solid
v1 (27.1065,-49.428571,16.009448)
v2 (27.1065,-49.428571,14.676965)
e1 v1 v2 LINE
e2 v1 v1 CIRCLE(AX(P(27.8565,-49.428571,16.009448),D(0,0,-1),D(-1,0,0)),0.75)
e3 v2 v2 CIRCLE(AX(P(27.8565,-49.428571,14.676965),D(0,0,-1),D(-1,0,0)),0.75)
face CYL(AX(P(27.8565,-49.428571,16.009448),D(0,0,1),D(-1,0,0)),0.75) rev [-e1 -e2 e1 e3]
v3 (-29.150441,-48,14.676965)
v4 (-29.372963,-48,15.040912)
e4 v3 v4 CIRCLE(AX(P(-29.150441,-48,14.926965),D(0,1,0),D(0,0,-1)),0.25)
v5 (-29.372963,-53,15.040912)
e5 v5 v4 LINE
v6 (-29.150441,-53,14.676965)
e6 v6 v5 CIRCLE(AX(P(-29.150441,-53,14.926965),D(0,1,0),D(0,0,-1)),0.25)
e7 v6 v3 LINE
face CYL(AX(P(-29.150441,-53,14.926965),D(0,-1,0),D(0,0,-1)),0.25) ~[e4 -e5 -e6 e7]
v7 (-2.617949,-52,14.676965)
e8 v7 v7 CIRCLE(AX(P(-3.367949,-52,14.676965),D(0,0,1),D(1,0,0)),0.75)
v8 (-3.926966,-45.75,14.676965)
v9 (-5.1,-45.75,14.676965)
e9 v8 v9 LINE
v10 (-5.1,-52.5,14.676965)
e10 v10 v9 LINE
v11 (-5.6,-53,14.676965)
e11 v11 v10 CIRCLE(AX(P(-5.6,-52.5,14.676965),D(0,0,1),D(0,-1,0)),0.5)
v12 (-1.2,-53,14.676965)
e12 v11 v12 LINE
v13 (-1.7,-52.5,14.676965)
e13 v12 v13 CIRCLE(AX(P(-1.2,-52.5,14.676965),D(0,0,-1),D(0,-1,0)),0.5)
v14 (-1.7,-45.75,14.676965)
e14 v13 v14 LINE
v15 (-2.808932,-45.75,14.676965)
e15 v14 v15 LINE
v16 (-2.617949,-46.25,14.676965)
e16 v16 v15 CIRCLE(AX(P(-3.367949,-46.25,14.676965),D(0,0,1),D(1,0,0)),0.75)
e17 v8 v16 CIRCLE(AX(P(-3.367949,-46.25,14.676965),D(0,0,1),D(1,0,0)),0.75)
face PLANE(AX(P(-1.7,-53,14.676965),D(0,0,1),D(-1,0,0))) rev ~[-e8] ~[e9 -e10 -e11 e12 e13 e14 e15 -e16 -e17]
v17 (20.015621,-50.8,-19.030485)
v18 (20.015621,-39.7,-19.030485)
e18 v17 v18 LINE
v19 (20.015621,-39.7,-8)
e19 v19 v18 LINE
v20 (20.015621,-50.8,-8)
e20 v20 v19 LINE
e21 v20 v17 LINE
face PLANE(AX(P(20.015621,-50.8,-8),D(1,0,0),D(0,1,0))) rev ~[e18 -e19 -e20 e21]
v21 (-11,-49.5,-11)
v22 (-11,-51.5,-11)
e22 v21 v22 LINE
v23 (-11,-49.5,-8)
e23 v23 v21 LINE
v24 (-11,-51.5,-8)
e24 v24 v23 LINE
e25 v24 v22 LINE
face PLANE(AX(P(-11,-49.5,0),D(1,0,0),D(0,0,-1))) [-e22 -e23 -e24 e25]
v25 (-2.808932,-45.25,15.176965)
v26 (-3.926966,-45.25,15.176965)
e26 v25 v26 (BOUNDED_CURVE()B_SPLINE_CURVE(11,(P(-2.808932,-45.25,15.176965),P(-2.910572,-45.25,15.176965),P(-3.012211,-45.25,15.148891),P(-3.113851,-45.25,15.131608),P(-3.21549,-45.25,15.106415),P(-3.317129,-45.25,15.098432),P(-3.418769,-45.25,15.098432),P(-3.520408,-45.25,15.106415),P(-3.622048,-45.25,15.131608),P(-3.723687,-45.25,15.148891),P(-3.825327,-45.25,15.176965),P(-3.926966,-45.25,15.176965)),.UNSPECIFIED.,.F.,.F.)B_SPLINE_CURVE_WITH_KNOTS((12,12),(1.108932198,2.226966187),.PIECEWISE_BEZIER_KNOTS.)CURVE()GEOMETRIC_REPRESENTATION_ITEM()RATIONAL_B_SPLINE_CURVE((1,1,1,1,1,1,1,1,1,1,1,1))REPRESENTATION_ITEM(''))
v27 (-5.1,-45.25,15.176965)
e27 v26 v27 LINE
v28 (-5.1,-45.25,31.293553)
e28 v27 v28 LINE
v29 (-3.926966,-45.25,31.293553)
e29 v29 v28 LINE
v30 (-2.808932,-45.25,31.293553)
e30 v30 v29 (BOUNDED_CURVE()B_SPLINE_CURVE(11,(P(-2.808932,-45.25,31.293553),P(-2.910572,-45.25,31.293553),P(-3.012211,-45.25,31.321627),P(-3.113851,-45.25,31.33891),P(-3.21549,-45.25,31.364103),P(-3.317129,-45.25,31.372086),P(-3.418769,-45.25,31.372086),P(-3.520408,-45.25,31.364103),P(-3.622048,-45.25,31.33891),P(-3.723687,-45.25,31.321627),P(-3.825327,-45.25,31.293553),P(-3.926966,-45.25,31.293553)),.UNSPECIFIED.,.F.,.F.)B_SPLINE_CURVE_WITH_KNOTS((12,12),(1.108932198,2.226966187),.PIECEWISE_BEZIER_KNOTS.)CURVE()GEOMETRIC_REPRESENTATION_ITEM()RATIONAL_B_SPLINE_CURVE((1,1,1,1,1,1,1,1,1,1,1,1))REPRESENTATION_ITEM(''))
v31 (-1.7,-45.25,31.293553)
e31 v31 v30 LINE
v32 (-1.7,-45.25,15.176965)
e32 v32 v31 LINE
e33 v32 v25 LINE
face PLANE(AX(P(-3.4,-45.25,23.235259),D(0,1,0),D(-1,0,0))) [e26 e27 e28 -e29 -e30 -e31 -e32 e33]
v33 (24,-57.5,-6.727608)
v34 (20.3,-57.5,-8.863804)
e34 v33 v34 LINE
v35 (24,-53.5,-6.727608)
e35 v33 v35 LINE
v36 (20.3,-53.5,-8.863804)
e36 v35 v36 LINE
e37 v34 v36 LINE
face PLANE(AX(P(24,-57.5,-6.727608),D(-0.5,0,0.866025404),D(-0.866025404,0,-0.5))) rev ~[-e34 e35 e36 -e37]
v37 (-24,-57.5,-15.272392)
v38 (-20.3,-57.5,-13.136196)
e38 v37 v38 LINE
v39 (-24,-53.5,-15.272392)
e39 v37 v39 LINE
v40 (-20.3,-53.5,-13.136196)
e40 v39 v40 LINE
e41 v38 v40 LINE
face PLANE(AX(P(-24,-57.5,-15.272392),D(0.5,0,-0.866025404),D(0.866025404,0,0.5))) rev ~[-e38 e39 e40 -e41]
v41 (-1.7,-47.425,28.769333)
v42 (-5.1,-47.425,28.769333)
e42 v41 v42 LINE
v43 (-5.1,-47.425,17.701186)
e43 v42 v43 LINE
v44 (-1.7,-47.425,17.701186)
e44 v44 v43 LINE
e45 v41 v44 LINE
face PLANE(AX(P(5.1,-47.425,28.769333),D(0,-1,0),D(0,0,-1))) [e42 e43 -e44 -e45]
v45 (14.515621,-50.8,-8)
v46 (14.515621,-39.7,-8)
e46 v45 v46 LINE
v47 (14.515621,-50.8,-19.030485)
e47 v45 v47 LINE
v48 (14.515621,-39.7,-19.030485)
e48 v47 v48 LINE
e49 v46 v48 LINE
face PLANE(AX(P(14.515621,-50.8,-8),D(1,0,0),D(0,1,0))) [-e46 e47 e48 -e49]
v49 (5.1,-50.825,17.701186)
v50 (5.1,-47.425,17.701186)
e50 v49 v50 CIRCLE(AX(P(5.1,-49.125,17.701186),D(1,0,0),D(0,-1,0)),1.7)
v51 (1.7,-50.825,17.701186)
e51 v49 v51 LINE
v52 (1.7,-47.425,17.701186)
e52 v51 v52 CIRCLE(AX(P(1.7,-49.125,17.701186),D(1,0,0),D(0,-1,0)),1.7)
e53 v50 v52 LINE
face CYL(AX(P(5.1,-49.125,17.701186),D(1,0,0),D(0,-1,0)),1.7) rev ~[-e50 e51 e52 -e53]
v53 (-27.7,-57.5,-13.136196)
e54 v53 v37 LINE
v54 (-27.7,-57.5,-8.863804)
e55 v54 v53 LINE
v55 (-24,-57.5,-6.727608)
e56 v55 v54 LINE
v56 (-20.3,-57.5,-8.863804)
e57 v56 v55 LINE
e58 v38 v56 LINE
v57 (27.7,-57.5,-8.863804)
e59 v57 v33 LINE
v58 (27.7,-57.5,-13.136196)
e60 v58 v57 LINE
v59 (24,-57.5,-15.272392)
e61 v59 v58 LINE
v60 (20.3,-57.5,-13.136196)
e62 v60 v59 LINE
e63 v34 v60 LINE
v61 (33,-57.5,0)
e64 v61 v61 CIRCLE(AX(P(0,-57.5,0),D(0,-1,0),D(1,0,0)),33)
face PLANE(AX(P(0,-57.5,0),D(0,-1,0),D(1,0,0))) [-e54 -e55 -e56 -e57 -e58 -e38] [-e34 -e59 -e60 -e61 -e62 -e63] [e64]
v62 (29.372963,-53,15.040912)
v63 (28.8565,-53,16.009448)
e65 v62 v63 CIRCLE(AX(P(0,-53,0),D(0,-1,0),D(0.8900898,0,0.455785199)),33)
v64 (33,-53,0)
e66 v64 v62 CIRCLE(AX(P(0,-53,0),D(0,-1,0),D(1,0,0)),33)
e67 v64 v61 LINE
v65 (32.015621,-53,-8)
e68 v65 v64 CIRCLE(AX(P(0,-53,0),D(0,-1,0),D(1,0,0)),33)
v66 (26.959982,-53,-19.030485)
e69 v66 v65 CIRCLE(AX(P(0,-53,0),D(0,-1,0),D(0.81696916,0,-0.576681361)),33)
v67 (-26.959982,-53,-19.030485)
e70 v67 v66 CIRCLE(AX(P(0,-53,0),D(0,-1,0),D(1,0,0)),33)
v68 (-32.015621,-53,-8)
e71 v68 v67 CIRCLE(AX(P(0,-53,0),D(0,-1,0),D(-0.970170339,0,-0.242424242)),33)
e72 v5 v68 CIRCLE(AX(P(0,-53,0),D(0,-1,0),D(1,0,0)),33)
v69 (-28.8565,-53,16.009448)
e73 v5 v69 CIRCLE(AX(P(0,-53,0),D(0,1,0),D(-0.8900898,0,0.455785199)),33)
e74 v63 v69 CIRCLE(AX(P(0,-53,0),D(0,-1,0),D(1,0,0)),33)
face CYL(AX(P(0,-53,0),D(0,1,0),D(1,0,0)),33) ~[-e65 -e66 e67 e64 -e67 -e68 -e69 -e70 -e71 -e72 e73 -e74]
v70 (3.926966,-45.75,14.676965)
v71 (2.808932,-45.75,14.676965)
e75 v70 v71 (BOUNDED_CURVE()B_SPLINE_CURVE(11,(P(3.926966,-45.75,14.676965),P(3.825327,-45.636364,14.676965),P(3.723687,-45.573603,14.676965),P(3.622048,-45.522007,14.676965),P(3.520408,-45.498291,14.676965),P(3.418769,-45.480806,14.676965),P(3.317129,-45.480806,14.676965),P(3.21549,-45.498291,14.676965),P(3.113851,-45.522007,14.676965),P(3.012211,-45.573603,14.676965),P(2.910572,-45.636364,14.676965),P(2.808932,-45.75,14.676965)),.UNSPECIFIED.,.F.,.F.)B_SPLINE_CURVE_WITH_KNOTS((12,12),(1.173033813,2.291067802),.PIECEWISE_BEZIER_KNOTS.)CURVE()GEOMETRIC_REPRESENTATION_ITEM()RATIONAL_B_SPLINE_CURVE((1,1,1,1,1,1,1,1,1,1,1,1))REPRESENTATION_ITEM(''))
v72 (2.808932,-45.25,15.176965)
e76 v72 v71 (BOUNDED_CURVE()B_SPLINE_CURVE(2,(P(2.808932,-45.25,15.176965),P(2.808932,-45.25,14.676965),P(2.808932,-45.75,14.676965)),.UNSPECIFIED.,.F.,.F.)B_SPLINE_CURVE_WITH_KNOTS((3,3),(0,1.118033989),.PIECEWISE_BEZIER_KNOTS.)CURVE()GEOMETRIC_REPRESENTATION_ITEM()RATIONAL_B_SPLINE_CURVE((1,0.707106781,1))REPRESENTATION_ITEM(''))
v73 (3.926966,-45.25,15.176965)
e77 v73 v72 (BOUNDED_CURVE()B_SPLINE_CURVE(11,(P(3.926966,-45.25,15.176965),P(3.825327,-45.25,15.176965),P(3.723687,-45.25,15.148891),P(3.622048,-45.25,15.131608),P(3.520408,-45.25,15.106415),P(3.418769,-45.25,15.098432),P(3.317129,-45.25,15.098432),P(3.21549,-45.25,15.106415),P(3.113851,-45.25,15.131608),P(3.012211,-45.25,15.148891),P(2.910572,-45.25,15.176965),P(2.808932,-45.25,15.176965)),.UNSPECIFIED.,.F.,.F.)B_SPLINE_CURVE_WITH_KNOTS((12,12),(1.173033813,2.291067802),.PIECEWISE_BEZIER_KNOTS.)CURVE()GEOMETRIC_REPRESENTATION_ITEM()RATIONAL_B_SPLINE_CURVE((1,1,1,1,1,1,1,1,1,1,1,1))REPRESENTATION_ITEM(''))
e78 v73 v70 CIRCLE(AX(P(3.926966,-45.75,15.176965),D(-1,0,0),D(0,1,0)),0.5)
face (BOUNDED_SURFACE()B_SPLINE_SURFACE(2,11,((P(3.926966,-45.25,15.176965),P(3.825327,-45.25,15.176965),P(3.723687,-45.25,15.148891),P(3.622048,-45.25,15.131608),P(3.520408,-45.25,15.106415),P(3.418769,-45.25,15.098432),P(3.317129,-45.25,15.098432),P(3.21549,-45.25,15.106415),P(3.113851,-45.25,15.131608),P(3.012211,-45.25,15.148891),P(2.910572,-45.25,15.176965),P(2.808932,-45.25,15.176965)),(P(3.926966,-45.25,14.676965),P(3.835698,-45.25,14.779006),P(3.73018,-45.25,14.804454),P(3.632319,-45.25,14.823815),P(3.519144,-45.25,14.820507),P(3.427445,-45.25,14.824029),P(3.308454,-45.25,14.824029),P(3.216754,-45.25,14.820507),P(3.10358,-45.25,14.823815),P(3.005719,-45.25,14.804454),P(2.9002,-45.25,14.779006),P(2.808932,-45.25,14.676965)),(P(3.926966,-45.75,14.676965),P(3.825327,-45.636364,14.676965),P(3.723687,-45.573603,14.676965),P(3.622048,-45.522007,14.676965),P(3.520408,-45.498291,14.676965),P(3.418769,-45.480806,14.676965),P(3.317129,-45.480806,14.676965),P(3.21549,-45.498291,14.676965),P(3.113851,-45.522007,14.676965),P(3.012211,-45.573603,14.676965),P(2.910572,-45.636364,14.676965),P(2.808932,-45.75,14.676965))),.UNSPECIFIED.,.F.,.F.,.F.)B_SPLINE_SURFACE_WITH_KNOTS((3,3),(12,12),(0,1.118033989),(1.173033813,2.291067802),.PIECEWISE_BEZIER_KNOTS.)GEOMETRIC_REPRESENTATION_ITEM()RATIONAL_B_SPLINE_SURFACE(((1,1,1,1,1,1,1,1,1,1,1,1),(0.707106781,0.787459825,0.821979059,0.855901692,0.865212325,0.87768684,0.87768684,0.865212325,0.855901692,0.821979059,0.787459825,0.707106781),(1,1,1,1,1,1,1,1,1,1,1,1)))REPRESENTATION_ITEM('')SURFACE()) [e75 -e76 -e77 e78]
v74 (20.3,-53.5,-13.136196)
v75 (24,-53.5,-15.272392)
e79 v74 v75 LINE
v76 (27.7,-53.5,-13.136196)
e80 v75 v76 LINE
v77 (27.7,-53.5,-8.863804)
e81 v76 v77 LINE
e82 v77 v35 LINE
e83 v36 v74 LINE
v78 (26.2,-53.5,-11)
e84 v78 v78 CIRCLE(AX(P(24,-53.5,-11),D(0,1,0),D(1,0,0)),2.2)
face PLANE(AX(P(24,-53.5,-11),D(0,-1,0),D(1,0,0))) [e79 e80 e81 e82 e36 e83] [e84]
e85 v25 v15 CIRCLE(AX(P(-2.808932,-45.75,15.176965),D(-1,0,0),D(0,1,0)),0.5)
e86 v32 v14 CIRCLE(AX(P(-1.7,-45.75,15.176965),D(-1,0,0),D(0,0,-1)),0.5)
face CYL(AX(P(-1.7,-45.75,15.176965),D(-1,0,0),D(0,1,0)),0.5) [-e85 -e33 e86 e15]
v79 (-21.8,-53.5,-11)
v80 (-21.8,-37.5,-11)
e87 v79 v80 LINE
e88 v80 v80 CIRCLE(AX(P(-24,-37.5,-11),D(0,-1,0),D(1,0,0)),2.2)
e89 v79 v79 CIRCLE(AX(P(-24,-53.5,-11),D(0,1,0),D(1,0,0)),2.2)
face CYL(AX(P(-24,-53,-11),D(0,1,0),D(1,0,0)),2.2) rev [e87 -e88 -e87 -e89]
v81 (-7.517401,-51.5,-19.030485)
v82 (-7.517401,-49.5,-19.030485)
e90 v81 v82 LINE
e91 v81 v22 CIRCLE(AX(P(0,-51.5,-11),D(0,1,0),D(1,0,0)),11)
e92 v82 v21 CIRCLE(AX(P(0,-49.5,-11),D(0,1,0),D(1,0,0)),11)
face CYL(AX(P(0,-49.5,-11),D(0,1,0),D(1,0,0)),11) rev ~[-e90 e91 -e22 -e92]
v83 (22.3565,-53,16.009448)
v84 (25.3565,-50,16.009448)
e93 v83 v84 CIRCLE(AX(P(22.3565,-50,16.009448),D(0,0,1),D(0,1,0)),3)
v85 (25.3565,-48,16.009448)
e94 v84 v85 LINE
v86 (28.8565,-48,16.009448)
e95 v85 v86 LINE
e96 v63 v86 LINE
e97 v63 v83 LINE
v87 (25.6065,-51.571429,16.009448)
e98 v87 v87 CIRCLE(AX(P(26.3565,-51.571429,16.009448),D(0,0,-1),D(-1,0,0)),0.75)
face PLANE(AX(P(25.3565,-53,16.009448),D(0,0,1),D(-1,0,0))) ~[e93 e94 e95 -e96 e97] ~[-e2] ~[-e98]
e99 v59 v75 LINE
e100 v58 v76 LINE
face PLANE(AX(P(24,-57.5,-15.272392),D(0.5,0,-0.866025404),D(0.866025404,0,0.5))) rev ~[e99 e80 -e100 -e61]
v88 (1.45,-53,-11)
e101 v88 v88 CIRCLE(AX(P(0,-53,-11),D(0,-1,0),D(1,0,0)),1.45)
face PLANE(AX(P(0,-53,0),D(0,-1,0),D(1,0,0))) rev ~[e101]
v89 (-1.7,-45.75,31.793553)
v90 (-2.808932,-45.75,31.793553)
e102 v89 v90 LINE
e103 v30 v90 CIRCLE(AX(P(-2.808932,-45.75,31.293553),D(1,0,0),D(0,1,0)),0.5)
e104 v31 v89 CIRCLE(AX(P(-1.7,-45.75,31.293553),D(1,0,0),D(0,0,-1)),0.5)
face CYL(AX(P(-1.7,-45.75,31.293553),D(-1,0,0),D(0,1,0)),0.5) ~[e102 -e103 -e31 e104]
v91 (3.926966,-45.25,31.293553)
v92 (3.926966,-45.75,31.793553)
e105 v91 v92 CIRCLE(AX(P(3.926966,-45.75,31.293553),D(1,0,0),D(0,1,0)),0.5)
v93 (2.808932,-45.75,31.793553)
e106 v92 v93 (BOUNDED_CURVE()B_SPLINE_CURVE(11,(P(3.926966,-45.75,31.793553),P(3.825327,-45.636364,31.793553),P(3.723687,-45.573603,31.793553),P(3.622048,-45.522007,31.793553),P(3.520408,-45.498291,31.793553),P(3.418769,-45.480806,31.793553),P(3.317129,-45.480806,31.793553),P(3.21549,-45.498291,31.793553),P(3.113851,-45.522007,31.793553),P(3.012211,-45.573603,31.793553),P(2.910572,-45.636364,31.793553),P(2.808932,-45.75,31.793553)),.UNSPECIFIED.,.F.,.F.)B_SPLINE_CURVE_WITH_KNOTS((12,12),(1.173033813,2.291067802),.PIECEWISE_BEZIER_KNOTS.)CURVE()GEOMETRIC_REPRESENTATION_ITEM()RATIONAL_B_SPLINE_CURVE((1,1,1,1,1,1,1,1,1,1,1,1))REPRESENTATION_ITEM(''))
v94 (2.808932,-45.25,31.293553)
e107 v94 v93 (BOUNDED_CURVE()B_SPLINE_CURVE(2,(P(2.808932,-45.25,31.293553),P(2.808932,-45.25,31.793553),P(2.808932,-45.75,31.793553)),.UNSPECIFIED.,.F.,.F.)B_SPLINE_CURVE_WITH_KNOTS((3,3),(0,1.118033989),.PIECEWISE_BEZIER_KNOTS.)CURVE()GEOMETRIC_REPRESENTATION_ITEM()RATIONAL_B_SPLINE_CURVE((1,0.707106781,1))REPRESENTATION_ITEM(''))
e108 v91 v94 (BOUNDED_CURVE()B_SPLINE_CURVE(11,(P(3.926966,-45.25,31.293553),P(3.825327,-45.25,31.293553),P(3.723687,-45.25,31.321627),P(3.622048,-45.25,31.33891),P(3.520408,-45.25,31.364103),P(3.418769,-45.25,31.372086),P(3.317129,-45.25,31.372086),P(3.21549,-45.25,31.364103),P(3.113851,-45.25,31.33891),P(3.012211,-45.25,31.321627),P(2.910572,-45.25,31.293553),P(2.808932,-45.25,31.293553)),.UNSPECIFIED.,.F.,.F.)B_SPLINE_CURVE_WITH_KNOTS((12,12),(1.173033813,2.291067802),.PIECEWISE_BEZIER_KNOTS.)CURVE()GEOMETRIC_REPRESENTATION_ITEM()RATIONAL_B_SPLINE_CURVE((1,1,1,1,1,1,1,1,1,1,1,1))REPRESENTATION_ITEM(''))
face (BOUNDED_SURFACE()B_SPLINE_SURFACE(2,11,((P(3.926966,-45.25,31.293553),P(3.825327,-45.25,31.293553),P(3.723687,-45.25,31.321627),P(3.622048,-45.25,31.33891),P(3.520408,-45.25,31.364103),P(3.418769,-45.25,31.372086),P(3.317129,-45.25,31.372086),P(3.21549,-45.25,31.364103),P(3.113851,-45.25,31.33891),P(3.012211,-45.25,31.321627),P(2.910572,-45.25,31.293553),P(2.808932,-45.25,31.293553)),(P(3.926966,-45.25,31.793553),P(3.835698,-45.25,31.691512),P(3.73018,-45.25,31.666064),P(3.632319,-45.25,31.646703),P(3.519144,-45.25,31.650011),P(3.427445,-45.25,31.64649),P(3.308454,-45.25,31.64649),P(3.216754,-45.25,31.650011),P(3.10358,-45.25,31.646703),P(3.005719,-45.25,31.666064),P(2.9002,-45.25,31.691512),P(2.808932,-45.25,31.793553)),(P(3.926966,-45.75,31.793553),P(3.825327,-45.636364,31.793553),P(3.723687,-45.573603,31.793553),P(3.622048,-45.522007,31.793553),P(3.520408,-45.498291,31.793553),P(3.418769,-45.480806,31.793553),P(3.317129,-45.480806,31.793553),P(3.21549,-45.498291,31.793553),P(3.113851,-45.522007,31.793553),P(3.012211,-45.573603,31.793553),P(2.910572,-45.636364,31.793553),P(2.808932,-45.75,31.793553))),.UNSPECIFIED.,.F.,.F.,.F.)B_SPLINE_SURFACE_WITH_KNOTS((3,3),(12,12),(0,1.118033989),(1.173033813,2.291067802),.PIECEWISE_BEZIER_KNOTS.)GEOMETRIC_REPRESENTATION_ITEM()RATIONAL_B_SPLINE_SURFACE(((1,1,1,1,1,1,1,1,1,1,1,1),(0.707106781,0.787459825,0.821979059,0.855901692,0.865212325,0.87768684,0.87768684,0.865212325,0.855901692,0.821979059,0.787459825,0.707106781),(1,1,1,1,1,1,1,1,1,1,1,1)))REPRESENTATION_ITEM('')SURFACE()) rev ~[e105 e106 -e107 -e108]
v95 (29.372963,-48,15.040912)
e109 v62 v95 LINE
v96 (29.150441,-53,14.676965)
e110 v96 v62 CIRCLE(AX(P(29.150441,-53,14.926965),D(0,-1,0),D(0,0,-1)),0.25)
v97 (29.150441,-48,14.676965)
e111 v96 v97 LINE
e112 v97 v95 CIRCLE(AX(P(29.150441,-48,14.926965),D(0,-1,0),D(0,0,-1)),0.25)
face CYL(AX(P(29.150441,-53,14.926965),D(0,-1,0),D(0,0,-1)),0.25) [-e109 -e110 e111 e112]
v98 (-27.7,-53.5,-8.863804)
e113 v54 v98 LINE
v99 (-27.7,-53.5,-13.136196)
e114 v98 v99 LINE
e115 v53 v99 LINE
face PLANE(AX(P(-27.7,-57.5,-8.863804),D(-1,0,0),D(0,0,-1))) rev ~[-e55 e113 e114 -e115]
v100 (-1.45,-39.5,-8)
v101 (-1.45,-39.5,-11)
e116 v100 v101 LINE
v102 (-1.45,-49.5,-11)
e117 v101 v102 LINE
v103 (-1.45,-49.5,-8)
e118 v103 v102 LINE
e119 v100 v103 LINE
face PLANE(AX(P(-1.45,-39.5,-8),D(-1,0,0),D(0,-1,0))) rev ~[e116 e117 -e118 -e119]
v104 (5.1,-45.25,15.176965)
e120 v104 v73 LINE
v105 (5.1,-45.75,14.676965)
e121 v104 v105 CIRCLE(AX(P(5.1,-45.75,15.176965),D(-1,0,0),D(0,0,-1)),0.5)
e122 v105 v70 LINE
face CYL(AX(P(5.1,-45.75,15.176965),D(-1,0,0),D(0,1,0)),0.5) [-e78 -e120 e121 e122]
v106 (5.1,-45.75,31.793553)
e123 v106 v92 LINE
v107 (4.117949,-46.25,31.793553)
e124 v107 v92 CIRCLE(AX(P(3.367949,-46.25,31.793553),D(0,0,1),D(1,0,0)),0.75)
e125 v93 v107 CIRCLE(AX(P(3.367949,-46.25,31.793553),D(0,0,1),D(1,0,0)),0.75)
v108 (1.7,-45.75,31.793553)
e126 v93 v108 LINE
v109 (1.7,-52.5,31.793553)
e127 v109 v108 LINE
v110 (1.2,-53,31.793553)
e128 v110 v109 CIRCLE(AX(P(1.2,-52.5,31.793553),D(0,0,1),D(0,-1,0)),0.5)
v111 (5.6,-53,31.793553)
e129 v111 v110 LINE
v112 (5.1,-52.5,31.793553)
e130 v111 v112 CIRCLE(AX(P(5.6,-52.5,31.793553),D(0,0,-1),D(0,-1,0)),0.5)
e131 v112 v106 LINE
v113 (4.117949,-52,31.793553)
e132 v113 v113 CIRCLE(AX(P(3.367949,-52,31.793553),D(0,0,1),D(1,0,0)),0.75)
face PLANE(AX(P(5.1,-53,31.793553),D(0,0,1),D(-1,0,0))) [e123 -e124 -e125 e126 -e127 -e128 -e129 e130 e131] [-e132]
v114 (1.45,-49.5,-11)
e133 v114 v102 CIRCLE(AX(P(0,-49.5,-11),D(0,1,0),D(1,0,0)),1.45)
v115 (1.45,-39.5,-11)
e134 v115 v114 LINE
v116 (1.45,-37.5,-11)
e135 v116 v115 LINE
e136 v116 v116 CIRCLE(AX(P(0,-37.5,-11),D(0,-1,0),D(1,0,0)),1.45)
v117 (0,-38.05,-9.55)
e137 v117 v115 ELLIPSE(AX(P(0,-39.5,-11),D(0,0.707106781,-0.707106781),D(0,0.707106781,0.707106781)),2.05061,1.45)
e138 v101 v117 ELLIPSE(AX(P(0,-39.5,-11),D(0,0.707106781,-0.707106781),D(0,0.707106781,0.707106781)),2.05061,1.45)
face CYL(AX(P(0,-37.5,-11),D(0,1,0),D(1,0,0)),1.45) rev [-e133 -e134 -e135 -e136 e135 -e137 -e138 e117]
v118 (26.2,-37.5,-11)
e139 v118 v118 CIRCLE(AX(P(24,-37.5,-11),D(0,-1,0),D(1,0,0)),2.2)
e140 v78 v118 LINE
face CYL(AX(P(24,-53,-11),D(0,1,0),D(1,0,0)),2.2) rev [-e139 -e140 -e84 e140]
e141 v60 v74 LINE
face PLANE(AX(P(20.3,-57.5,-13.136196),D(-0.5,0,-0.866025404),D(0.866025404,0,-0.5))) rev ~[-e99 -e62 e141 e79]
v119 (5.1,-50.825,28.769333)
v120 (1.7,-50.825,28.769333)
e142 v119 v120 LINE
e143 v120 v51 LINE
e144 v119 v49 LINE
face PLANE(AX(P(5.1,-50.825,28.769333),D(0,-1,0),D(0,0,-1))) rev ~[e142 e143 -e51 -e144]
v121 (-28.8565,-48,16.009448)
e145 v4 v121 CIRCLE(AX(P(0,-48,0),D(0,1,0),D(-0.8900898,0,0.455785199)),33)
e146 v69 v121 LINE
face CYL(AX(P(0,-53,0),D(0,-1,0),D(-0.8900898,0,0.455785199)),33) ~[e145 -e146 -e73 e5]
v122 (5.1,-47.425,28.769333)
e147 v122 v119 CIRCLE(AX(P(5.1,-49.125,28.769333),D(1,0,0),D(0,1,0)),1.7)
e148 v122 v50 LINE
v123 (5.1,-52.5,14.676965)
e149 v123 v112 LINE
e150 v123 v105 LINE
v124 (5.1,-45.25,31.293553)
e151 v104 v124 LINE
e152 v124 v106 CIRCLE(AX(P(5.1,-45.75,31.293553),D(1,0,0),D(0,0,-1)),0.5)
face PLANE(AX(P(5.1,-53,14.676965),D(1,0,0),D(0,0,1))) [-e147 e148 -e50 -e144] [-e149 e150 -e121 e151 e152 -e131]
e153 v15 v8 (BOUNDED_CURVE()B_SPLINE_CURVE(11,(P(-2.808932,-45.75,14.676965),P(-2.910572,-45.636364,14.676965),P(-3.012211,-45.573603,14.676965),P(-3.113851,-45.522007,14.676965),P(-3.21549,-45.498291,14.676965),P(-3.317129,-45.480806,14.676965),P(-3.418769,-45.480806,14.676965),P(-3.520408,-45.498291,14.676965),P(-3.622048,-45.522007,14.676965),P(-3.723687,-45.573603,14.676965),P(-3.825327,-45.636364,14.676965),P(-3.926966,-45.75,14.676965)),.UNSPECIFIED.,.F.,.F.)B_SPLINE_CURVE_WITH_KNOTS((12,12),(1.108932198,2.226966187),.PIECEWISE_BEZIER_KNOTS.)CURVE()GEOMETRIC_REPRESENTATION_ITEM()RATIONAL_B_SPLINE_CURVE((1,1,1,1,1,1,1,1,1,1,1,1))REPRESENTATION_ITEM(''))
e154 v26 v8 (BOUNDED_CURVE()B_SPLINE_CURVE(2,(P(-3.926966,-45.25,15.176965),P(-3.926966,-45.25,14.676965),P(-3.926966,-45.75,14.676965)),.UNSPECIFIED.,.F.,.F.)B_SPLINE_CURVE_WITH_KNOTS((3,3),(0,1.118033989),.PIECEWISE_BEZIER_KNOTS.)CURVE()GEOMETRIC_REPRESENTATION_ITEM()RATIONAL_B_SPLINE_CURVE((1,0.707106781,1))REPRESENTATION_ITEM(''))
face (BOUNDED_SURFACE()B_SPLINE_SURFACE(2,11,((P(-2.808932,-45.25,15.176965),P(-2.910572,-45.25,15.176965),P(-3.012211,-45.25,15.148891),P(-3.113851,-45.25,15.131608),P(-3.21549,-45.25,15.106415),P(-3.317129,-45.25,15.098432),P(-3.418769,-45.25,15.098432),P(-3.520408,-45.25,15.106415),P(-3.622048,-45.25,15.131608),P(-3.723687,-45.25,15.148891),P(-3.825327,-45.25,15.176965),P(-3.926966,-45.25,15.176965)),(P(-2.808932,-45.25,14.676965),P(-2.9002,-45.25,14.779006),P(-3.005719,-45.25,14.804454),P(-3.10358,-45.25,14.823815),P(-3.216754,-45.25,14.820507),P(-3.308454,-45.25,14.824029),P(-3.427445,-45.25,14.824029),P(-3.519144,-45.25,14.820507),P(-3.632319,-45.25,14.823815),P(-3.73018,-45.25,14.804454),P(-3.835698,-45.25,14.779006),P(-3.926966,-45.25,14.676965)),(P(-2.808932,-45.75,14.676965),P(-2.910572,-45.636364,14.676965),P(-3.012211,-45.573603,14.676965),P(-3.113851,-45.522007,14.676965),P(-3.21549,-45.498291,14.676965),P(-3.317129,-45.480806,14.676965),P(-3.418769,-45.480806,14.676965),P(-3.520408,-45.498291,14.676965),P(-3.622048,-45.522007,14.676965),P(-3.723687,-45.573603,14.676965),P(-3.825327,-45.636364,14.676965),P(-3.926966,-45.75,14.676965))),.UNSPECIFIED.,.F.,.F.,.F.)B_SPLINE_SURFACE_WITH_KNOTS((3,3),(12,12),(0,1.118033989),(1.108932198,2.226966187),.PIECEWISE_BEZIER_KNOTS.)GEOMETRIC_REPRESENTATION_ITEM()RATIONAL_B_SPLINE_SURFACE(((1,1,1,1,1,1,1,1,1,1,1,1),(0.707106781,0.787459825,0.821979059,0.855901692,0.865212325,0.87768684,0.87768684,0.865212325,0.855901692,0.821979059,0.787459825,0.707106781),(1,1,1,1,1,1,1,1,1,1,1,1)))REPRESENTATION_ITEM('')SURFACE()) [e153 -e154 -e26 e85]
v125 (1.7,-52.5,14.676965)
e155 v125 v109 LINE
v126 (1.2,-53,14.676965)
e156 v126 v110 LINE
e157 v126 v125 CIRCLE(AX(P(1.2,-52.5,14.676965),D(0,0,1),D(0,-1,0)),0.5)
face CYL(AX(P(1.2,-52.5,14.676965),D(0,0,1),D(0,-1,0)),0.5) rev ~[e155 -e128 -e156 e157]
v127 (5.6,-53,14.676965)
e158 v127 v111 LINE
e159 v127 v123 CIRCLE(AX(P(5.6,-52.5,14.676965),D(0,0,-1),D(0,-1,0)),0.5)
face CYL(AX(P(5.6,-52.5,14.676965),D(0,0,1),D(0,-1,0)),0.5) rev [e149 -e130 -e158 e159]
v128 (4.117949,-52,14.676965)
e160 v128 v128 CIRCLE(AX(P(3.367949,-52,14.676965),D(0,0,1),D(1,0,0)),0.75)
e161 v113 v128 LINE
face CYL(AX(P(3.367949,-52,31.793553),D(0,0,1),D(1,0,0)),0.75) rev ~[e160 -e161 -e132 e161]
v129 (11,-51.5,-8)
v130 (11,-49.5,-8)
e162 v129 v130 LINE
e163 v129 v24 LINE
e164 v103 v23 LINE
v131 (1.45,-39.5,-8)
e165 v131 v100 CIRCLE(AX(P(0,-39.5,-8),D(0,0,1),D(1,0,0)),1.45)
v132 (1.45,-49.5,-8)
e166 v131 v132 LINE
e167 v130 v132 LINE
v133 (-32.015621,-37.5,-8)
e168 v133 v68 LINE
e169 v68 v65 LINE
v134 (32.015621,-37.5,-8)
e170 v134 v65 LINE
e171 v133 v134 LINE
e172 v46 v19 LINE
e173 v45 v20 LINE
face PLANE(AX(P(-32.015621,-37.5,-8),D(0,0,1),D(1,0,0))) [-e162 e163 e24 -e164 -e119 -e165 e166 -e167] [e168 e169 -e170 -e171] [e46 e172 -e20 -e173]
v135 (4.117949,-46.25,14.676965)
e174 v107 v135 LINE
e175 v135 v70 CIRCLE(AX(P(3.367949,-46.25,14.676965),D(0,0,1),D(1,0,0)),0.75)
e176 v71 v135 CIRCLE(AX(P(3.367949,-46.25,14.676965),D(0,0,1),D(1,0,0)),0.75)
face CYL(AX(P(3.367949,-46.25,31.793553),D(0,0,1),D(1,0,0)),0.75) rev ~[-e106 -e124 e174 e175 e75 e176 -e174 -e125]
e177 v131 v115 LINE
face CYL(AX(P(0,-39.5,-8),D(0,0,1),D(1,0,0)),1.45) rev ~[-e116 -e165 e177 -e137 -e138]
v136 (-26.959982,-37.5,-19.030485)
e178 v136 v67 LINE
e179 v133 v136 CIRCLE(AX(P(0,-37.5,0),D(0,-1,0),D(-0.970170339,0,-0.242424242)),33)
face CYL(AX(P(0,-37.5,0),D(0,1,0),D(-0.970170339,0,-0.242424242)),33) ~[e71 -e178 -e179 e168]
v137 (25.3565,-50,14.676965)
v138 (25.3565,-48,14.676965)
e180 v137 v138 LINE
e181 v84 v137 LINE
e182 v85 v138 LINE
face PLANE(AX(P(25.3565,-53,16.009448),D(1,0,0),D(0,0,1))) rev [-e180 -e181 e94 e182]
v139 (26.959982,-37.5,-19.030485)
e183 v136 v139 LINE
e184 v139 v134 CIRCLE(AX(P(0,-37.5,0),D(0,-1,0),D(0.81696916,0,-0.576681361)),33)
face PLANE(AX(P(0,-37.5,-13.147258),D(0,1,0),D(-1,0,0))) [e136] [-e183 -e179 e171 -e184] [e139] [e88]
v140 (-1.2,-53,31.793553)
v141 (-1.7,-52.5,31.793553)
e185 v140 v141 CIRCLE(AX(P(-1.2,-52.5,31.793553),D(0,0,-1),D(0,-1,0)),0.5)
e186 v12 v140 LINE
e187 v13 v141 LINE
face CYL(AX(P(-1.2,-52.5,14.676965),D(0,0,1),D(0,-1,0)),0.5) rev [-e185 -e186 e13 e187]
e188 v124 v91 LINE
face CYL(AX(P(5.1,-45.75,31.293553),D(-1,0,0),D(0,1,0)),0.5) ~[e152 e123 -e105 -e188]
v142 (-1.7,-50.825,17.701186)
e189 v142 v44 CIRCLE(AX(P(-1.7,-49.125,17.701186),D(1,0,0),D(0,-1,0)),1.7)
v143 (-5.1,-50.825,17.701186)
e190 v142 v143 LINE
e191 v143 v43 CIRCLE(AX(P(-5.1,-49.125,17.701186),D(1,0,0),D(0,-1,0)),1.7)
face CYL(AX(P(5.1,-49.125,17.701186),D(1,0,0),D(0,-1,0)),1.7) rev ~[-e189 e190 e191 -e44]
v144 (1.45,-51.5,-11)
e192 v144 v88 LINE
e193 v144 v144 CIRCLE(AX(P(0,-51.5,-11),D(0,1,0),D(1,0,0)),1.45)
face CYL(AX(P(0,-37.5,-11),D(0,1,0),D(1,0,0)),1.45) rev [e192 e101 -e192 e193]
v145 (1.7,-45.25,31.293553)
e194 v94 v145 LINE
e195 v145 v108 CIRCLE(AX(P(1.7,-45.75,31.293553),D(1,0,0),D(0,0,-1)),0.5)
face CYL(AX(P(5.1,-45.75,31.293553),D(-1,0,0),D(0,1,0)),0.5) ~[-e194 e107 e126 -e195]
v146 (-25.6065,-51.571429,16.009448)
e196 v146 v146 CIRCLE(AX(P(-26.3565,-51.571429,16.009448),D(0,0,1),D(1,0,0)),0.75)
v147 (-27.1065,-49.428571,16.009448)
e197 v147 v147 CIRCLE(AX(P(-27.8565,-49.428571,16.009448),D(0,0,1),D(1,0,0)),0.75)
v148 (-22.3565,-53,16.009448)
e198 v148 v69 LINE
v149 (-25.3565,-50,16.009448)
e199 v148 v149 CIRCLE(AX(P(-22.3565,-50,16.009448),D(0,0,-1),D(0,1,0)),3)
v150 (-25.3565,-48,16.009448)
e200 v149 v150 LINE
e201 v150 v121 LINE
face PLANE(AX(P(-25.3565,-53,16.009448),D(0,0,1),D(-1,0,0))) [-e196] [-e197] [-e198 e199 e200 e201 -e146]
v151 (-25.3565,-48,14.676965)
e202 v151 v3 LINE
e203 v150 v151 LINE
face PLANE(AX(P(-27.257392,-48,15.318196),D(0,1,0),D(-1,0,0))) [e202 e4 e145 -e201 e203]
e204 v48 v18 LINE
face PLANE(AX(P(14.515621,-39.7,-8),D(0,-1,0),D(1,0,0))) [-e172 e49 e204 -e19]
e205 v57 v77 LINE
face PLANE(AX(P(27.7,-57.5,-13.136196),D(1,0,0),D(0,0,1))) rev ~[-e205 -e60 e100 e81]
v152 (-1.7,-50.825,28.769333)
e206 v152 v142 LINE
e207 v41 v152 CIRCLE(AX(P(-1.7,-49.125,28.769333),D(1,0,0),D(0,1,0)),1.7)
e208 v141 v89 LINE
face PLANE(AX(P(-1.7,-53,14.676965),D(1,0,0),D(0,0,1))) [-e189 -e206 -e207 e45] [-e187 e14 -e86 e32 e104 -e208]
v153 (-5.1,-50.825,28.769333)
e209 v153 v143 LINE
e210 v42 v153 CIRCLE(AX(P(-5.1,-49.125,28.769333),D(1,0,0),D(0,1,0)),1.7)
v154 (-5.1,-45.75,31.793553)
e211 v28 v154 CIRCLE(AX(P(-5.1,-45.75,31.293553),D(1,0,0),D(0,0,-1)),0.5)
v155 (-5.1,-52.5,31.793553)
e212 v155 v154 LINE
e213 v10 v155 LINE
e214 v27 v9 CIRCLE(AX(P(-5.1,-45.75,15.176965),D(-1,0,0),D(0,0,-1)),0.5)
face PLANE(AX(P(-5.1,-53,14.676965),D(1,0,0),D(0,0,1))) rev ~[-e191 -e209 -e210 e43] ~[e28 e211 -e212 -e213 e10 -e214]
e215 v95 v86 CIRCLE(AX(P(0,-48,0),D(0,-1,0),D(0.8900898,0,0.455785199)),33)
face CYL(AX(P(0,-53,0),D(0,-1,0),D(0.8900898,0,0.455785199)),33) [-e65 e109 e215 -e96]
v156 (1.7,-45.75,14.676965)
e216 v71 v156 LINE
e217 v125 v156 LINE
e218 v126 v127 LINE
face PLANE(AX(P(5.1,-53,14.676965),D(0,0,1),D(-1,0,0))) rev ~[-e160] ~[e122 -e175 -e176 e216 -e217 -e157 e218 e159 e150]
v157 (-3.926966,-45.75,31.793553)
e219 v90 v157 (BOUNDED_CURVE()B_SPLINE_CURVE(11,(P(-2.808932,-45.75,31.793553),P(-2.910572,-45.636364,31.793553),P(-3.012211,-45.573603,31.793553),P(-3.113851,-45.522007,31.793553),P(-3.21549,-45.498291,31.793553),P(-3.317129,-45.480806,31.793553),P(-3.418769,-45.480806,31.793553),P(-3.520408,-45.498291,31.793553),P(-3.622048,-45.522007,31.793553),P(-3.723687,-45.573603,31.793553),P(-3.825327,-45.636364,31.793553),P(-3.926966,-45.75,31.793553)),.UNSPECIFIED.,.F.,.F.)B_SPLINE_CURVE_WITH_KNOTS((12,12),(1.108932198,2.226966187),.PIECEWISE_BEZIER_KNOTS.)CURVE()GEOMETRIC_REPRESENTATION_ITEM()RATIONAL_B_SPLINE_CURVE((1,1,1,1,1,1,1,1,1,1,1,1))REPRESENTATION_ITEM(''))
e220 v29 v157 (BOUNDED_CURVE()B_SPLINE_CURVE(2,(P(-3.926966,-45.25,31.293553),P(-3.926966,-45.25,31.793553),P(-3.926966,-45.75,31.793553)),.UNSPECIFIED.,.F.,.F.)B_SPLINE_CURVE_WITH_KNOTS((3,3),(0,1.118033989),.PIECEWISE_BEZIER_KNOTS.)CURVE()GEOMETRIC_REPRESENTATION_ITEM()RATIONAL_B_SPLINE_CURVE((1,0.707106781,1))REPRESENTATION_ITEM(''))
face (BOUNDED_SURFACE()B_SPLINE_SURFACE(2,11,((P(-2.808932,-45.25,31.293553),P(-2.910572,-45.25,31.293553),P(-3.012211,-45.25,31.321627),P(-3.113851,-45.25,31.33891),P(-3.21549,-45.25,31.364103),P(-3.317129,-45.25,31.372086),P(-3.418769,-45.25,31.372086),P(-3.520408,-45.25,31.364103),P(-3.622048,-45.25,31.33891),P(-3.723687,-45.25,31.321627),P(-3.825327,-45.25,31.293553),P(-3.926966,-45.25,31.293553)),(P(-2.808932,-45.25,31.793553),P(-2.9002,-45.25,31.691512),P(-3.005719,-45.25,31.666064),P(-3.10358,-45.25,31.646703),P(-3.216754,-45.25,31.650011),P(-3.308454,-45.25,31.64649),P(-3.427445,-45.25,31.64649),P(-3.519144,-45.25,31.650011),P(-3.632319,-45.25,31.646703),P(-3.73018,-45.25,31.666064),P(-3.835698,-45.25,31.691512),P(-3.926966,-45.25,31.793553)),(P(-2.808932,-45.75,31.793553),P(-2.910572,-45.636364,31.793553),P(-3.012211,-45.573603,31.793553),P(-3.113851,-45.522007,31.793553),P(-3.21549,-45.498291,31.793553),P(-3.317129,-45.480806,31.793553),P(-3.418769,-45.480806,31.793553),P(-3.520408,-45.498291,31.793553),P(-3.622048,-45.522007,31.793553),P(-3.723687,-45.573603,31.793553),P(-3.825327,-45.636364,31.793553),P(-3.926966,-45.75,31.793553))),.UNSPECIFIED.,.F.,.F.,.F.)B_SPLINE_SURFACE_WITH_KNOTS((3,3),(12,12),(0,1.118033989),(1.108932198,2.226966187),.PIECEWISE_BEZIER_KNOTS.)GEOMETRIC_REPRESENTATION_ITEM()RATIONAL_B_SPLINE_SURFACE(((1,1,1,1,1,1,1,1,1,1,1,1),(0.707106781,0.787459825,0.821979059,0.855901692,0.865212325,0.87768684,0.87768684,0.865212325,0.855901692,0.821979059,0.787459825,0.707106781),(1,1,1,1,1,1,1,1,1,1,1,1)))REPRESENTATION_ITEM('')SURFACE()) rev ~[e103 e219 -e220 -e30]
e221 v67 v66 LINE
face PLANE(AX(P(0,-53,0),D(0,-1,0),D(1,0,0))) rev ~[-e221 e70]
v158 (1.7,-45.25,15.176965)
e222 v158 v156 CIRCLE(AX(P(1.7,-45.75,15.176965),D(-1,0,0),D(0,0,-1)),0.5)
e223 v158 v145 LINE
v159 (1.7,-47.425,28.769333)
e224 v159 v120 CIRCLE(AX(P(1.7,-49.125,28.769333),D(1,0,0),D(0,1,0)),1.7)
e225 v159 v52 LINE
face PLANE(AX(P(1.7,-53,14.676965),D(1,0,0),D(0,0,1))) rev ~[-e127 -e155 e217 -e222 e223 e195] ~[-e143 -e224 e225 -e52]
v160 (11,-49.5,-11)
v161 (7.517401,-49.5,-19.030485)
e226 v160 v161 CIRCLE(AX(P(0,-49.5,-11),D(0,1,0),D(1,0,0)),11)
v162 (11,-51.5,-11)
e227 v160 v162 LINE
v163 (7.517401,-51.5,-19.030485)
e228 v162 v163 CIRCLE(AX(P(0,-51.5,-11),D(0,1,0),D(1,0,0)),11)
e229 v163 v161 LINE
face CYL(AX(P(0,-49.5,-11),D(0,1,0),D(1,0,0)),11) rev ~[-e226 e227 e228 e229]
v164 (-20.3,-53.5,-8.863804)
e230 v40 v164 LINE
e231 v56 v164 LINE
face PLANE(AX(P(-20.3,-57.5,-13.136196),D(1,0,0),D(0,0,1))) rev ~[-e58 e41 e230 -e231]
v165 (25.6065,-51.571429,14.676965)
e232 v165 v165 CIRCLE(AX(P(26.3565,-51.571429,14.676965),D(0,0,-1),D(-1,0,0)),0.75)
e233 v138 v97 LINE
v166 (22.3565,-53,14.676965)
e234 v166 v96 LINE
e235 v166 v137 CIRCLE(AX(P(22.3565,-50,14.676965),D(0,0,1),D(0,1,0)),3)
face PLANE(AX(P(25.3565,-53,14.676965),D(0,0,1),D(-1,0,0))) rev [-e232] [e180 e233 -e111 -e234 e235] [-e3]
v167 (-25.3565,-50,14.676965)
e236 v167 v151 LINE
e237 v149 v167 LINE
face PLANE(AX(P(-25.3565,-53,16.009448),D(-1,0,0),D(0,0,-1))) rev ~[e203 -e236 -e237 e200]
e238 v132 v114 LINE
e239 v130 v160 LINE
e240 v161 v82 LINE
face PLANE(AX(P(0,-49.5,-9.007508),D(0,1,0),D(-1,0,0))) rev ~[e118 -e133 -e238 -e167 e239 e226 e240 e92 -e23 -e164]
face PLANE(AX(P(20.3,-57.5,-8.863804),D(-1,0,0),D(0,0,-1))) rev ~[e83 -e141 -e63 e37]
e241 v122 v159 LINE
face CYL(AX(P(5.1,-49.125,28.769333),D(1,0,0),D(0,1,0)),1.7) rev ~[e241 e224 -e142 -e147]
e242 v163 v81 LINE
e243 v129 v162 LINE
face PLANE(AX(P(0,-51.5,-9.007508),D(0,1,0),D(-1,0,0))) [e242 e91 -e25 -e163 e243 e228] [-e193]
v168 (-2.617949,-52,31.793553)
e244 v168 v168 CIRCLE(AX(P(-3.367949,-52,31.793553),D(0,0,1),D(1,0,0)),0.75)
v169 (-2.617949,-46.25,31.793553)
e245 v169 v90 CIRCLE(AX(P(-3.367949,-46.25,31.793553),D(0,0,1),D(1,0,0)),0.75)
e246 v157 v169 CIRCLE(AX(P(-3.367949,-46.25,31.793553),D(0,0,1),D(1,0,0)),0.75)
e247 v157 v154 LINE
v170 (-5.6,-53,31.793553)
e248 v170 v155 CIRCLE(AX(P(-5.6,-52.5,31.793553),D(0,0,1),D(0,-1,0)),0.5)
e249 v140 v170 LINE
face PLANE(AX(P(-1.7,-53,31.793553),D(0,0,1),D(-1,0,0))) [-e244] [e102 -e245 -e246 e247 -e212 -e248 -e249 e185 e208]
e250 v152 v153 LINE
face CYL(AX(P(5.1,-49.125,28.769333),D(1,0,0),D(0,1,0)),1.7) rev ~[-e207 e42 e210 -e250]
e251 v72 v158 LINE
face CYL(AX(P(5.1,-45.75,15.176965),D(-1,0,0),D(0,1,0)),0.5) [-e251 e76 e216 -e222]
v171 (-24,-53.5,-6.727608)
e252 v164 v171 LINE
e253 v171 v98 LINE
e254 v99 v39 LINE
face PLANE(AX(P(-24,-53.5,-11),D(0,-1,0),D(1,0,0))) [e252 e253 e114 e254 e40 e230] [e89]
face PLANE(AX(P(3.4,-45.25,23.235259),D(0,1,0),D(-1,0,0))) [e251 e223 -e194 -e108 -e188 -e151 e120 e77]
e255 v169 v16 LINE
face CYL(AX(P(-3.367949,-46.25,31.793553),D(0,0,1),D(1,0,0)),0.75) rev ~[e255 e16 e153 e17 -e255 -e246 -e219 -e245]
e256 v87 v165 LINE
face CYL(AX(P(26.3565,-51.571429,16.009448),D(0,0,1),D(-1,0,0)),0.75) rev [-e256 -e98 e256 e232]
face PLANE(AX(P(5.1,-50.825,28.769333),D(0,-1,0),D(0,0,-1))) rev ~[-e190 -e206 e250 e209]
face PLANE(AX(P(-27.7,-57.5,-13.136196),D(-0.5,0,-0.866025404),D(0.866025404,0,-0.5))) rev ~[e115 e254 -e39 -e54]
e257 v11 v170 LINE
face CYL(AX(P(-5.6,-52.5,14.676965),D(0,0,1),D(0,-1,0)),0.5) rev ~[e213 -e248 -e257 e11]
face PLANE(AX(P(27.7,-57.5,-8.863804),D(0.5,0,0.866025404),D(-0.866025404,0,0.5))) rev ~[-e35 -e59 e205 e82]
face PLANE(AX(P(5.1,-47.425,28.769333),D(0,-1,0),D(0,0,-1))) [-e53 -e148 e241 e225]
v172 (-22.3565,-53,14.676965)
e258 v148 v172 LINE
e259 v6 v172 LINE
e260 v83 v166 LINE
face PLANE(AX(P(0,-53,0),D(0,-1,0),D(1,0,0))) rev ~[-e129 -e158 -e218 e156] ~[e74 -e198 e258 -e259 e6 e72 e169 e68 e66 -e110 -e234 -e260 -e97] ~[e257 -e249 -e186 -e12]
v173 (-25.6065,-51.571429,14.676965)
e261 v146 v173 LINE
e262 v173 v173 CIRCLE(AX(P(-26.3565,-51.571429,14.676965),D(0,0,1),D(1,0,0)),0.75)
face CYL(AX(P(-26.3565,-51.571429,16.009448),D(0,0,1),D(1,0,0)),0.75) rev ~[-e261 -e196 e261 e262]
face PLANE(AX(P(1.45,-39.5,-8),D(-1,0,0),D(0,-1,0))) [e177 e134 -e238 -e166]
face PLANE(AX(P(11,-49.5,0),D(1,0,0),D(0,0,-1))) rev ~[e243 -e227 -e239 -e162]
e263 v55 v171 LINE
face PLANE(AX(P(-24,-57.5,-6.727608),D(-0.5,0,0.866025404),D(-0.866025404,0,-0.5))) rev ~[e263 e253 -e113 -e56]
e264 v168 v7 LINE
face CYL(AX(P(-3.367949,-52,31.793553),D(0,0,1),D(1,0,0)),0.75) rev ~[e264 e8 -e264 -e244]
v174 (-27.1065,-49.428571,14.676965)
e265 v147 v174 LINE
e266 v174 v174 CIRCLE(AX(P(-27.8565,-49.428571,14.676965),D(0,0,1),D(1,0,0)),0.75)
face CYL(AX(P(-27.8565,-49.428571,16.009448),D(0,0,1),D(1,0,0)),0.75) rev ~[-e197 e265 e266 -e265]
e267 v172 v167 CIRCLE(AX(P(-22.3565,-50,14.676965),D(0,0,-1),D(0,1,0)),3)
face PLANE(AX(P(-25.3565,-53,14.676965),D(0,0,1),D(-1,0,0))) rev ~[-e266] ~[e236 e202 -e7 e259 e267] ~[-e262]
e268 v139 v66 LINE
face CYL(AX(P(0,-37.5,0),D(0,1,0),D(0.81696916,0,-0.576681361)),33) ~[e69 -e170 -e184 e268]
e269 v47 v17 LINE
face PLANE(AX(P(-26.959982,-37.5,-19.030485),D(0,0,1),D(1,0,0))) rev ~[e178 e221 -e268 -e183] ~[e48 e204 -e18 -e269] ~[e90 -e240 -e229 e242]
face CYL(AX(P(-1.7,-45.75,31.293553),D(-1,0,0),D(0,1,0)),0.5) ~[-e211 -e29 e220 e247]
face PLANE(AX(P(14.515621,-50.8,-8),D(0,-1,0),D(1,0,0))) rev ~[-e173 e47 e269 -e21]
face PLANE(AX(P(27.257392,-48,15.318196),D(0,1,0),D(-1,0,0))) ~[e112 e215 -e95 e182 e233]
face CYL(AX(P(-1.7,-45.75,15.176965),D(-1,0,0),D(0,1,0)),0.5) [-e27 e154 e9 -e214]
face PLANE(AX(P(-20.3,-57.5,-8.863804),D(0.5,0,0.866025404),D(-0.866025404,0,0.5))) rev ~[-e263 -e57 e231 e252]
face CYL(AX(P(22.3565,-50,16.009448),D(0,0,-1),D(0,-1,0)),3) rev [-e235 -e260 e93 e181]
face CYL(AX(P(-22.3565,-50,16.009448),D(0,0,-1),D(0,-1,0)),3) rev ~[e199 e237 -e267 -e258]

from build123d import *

# Parameters (mm, degrees)
SKETCH002_R     = 2.2
SKETCH002_R_2   = 1.45
PAD002_DEPTH    = 15.5
SKETCH003_R     = 33
SKETCH003_R_2   = 2.2
PAD003_DEPTH    = 4.5
POCKET_DEPTH    = 3
POCKET001_DEPTH = 4
POCKET003_DEPTH = 2
SKETCH011_W     = 5.5
SKETCH011_H     = 11.1
POCKET004_DEPTH = 25.001
SKETCH012_W     = 3.4
SKETCH012_H     = 17.1165875376
PAD007_DEPTH    = 7.75
POCKET005_DEPTH = 229.0145930205
SKETCH017_R     = 0.75
POCKET008_DEPTH = 17.1165875376
PAD008_DEPTH    = 5
SKETCH020_R     = 0.75
POCKET009_DEPTH = 1.3324822377
FILLET_R        = 0.5
FILLET001_R     = 0.5
FILLET002_R     = 3


with BuildPart() as part:
    # Sketch002 (on Face1 of ShapeBinder) → Pad002 (new body)
    with BuildSketch(Plane.XZ.offset(37.5)):
        with BuildLine():
            Line((-32.0156211872, -8), (32.0156211872, -8))
            ThreePointArc((26.9599822671, -19.0304849165), (29.9991391555, -13.7496054463), (32.0156211872, -8))
            Line((-26.9599822671, -19.0304849165), (26.9599822671, -19.0304849165))
            ThreePointArc((-32.0156211872, -8), (-29.9991391555, -13.7496054463), (-26.9599822671, -19.0304849165))
        make_face()
        with Locations((24, -11)):
            Circle(SKETCH002_R, mode=Mode.SUBTRACT)
        with Locations((0, -11)):
            Circle(SKETCH002_R_2, mode=Mode.SUBTRACT)
        with Locations((-24, -11)):
            Circle(SKETCH002_R, mode=Mode.SUBTRACT)
    extrude(amount=PAD002_DEPTH)

    # Sketch003 (on Face9 of Pad002) → Pad003 (join)
    with BuildSketch(Plane.XZ.offset(53)):
        Circle(SKETCH003_R)
        with Locations((24, -11)):
            Circle(SKETCH003_R_2, mode=Mode.SUBTRACT)
        with Locations((-24, -11)):
            Circle(SKETCH003_R_2, mode=Mode.SUBTRACT)
    extrude(amount=PAD003_DEPTH)

    # Sketch007 (on Face2 of Pad003) → Pocket (cut)
    with BuildSketch(Plane(origin=(0, -4.5, -8), x_dir=(1, 0, 0), z_dir=(0, 0, 1))):
        with BuildLine():
            ThreePointArc((1.45, -35), (0, -33.55), (-1.45, -35))
            Line((-1.45, -35), (-1.45, -45))
            Line((-1.45, -45), (1.45, -45))
            Line((1.45, -35), (1.45, -45))
        make_face()
    extrude(amount=-POCKET_DEPTH, mode=Mode.SUBTRACT)

    # Sketch008 (on Face16 of Pocket) → Pocket001 (cut)
    with BuildSketch(Plane.XZ.offset(57.5)):
        Polygon((27.7, -13.136195996), (27.7, -8.863804004), (24, -6.727608008), (20.3, -8.863804004), (20.3, -13.136195996), (24, -15.272391992), align=None)
        Polygon((-20.3, -13.136195996), (-20.3, -8.863804004), (-24, -6.727608008), (-27.7, -8.863804004), (-27.7, -13.136195996), (-24, -15.272391992), align=None)
    extrude(amount=-POCKET001_DEPTH, mode=Mode.SUBTRACT)

    # Sketch010 (on Face10 of Pocket001) → Pocket003 (cut)
    with BuildSketch(Plane(origin=(0, -49.5, 0), x_dir=(-1, 0, 0), z_dir=(0, 1, 0))):
        with BuildLine():
            ThreePointArc((-11, -11.0000000007), (6e-10, -22), (11, -10.9999999995))
            Line((11, 0), (11, -10.9999999995))
            Line((-11, 0), (11, 0))
            Line((-11, 0), (-11, -11.0000000007))
        make_face()
    extrude(amount=-POCKET003_DEPTH, mode=Mode.SUBTRACT)

    # Sketch011 (on Face2 of Pocket003) → Pocket004 (cut, through all)
    with BuildSketch(Plane(origin=(0, -4.5, -8), x_dir=(1, 0, 0), z_dir=(0, 0, 1))):
        with Locations((17.2656211872, -40.75)):
            Rectangle(SKETCH011_W, SKETCH011_H)
    extrude(amount=-POCKET004_DEPTH, mode=Mode.SUBTRACT)

    # Sketch012 (on Face6 of Pocket004) → Pad007 (join)
    with BuildSketch(Plane(origin=(0, -53, 0), x_dir=(-1, 0, 0), z_dir=(0, 1, 0))):
        with Locations((-3.4, 23.2352590367)):
            Rectangle(SKETCH012_W, SKETCH012_H)
        with Locations((3.4, 23.2352590367)):
            Rectangle(SKETCH012_W, SKETCH012_H)
    extrude(amount=PAD007_DEPTH)

    # Sketch013 (on Face33 of Pad007) → Pocket005 (cut, through all)
    with BuildSketch(Plane(origin=(5.1, -4.5, 0), x_dir=(0, 1, 0), z_dir=(1, 0, 0))):
        with BuildLine():
            ThreePointArc((-42.925, 28.7693325629), (-44.625, 30.4693325629), (-46.325, 28.7693325629))
            Line((-46.325, 28.7693325629), (-46.325, 17.7011855106))
            ThreePointArc((-46.325, 17.7011855106), (-44.625, 16.0011855106), (-42.925, 17.7011855106))
            Line((-42.925, 28.7693325629), (-42.925, 17.7011855106))
        make_face()
    extrude(amount=-POCKET005_DEPTH, mode=Mode.SUBTRACT)

    # Sketch017 (on Face30 of Pocket005) → Pocket008 (cut)
    with BuildSketch(Plane(origin=(0, -4.5, 31.7935528056), x_dir=(1, 0, 0), z_dir=(0, 0, 1))):
        with Locations((-3.3679491924, -41.75)):
            Circle(SKETCH017_R)
        with Locations((3.3679491924, -41.75)):
            Circle(SKETCH017_R)
        with Locations((-3.3679491924, -47.5)):
            Circle(SKETCH017_R)
        with Locations((3.3679491924, -47.5)):
            Circle(SKETCH017_R)
    extrude(amount=-POCKET008_DEPTH, mode=Mode.SUBTRACT)

    # Sketch019 (on Face6 of Pocket008) → Pad008 (join)
    with BuildSketch(Plane(origin=(0, -53, 0), x_dir=(-1, 0, 0), z_dir=(0, 1, 0))):
        with BuildLine():
            ThreePointArc((29.3729634054, 15.0409115677), (29.1187588461, 15.5273269839), (28.8564999708, 16.0094475056))
            Line((25.3564999708, 16.0094475056), (28.8564999708, 16.0094475056))
            Line((25.3564999708, 16.0094475056), (25.3564999708, 14.6769652679))
            Line((25.3564999708, 14.6769652679), (29.1504409553, 14.6769652679))
            ThreePointArc((29.1504409553, 14.6769652679), (29.3637325104, 14.796555481), (29.3729634054, 15.0409115677))
        make_face()
    pad008 = extrude(amount=PAD008_DEPTH)

    # Sketch020 (on Face30 of Pad008) → Pocket009 (cut)
    with BuildSketch(Plane(origin=(0, -4.5, 16.0094475056), x_dir=(1, 0, 0), z_dir=(0, 0, 1))):
        with Locations((-27.8564999708, -44.9285714286)):
            Circle(SKETCH020_R)
        with Locations((-26.3564999708, -47.0714285714)):
            Circle(SKETCH020_R)
    pocket009 = extrude(amount=-POCKET009_DEPTH, mode=Mode.SUBTRACT)

    # Mirrored: Pad008 across Sketch019 V_Axis
    add(pad008.mirror(Plane(origin=(0, -53, 0), x_dir=(0, 1, 0), z_dir=(-1, 0, 0))))

    # Mirrored001: Pocket009 across Sketch020 V_Axis
    add(pocket009.mirror(Plane(origin=(0, -4.5, 16.0094475056), x_dir=(0, 0, 1), z_dir=(1, 0, 0))), mode=Mode.SUBTRACT)

    # Fillet
    fillet_edges = [part.edges().sort_by_distance(p)[0] for p in [
        (-5.1, -53, 23.235259),
        (-1.7, -53, 23.235259),
        (1.7, -53, 23.235259),
        (5.1, -53, 23.235259),
    ]]
    fillet(fillet_edges, radius=FILLET_R)

    # Fillet001
    fillet001_edges = [part.edges().sort_by_distance(p)[0] for p in [
        (-3.4, -45.25, 14.676965),
        (3.4, -45.25, 14.676965),
        (-3.4, -45.25, 31.793553),
        (3.4, -45.25, 31.793553),
    ]]
    fillet(fillet001_edges, radius=FILLET001_R)

    # Fillet002
    fillet002_edges = [part.edges().sort_by_distance(p)[0] for p in [
        (-25.3565, -53, 15.343206),
        (25.3565, -53, 15.343206),
    ]]
    fillet(fillet002_edges, radius=FILLET002_R)


solid = part.part
